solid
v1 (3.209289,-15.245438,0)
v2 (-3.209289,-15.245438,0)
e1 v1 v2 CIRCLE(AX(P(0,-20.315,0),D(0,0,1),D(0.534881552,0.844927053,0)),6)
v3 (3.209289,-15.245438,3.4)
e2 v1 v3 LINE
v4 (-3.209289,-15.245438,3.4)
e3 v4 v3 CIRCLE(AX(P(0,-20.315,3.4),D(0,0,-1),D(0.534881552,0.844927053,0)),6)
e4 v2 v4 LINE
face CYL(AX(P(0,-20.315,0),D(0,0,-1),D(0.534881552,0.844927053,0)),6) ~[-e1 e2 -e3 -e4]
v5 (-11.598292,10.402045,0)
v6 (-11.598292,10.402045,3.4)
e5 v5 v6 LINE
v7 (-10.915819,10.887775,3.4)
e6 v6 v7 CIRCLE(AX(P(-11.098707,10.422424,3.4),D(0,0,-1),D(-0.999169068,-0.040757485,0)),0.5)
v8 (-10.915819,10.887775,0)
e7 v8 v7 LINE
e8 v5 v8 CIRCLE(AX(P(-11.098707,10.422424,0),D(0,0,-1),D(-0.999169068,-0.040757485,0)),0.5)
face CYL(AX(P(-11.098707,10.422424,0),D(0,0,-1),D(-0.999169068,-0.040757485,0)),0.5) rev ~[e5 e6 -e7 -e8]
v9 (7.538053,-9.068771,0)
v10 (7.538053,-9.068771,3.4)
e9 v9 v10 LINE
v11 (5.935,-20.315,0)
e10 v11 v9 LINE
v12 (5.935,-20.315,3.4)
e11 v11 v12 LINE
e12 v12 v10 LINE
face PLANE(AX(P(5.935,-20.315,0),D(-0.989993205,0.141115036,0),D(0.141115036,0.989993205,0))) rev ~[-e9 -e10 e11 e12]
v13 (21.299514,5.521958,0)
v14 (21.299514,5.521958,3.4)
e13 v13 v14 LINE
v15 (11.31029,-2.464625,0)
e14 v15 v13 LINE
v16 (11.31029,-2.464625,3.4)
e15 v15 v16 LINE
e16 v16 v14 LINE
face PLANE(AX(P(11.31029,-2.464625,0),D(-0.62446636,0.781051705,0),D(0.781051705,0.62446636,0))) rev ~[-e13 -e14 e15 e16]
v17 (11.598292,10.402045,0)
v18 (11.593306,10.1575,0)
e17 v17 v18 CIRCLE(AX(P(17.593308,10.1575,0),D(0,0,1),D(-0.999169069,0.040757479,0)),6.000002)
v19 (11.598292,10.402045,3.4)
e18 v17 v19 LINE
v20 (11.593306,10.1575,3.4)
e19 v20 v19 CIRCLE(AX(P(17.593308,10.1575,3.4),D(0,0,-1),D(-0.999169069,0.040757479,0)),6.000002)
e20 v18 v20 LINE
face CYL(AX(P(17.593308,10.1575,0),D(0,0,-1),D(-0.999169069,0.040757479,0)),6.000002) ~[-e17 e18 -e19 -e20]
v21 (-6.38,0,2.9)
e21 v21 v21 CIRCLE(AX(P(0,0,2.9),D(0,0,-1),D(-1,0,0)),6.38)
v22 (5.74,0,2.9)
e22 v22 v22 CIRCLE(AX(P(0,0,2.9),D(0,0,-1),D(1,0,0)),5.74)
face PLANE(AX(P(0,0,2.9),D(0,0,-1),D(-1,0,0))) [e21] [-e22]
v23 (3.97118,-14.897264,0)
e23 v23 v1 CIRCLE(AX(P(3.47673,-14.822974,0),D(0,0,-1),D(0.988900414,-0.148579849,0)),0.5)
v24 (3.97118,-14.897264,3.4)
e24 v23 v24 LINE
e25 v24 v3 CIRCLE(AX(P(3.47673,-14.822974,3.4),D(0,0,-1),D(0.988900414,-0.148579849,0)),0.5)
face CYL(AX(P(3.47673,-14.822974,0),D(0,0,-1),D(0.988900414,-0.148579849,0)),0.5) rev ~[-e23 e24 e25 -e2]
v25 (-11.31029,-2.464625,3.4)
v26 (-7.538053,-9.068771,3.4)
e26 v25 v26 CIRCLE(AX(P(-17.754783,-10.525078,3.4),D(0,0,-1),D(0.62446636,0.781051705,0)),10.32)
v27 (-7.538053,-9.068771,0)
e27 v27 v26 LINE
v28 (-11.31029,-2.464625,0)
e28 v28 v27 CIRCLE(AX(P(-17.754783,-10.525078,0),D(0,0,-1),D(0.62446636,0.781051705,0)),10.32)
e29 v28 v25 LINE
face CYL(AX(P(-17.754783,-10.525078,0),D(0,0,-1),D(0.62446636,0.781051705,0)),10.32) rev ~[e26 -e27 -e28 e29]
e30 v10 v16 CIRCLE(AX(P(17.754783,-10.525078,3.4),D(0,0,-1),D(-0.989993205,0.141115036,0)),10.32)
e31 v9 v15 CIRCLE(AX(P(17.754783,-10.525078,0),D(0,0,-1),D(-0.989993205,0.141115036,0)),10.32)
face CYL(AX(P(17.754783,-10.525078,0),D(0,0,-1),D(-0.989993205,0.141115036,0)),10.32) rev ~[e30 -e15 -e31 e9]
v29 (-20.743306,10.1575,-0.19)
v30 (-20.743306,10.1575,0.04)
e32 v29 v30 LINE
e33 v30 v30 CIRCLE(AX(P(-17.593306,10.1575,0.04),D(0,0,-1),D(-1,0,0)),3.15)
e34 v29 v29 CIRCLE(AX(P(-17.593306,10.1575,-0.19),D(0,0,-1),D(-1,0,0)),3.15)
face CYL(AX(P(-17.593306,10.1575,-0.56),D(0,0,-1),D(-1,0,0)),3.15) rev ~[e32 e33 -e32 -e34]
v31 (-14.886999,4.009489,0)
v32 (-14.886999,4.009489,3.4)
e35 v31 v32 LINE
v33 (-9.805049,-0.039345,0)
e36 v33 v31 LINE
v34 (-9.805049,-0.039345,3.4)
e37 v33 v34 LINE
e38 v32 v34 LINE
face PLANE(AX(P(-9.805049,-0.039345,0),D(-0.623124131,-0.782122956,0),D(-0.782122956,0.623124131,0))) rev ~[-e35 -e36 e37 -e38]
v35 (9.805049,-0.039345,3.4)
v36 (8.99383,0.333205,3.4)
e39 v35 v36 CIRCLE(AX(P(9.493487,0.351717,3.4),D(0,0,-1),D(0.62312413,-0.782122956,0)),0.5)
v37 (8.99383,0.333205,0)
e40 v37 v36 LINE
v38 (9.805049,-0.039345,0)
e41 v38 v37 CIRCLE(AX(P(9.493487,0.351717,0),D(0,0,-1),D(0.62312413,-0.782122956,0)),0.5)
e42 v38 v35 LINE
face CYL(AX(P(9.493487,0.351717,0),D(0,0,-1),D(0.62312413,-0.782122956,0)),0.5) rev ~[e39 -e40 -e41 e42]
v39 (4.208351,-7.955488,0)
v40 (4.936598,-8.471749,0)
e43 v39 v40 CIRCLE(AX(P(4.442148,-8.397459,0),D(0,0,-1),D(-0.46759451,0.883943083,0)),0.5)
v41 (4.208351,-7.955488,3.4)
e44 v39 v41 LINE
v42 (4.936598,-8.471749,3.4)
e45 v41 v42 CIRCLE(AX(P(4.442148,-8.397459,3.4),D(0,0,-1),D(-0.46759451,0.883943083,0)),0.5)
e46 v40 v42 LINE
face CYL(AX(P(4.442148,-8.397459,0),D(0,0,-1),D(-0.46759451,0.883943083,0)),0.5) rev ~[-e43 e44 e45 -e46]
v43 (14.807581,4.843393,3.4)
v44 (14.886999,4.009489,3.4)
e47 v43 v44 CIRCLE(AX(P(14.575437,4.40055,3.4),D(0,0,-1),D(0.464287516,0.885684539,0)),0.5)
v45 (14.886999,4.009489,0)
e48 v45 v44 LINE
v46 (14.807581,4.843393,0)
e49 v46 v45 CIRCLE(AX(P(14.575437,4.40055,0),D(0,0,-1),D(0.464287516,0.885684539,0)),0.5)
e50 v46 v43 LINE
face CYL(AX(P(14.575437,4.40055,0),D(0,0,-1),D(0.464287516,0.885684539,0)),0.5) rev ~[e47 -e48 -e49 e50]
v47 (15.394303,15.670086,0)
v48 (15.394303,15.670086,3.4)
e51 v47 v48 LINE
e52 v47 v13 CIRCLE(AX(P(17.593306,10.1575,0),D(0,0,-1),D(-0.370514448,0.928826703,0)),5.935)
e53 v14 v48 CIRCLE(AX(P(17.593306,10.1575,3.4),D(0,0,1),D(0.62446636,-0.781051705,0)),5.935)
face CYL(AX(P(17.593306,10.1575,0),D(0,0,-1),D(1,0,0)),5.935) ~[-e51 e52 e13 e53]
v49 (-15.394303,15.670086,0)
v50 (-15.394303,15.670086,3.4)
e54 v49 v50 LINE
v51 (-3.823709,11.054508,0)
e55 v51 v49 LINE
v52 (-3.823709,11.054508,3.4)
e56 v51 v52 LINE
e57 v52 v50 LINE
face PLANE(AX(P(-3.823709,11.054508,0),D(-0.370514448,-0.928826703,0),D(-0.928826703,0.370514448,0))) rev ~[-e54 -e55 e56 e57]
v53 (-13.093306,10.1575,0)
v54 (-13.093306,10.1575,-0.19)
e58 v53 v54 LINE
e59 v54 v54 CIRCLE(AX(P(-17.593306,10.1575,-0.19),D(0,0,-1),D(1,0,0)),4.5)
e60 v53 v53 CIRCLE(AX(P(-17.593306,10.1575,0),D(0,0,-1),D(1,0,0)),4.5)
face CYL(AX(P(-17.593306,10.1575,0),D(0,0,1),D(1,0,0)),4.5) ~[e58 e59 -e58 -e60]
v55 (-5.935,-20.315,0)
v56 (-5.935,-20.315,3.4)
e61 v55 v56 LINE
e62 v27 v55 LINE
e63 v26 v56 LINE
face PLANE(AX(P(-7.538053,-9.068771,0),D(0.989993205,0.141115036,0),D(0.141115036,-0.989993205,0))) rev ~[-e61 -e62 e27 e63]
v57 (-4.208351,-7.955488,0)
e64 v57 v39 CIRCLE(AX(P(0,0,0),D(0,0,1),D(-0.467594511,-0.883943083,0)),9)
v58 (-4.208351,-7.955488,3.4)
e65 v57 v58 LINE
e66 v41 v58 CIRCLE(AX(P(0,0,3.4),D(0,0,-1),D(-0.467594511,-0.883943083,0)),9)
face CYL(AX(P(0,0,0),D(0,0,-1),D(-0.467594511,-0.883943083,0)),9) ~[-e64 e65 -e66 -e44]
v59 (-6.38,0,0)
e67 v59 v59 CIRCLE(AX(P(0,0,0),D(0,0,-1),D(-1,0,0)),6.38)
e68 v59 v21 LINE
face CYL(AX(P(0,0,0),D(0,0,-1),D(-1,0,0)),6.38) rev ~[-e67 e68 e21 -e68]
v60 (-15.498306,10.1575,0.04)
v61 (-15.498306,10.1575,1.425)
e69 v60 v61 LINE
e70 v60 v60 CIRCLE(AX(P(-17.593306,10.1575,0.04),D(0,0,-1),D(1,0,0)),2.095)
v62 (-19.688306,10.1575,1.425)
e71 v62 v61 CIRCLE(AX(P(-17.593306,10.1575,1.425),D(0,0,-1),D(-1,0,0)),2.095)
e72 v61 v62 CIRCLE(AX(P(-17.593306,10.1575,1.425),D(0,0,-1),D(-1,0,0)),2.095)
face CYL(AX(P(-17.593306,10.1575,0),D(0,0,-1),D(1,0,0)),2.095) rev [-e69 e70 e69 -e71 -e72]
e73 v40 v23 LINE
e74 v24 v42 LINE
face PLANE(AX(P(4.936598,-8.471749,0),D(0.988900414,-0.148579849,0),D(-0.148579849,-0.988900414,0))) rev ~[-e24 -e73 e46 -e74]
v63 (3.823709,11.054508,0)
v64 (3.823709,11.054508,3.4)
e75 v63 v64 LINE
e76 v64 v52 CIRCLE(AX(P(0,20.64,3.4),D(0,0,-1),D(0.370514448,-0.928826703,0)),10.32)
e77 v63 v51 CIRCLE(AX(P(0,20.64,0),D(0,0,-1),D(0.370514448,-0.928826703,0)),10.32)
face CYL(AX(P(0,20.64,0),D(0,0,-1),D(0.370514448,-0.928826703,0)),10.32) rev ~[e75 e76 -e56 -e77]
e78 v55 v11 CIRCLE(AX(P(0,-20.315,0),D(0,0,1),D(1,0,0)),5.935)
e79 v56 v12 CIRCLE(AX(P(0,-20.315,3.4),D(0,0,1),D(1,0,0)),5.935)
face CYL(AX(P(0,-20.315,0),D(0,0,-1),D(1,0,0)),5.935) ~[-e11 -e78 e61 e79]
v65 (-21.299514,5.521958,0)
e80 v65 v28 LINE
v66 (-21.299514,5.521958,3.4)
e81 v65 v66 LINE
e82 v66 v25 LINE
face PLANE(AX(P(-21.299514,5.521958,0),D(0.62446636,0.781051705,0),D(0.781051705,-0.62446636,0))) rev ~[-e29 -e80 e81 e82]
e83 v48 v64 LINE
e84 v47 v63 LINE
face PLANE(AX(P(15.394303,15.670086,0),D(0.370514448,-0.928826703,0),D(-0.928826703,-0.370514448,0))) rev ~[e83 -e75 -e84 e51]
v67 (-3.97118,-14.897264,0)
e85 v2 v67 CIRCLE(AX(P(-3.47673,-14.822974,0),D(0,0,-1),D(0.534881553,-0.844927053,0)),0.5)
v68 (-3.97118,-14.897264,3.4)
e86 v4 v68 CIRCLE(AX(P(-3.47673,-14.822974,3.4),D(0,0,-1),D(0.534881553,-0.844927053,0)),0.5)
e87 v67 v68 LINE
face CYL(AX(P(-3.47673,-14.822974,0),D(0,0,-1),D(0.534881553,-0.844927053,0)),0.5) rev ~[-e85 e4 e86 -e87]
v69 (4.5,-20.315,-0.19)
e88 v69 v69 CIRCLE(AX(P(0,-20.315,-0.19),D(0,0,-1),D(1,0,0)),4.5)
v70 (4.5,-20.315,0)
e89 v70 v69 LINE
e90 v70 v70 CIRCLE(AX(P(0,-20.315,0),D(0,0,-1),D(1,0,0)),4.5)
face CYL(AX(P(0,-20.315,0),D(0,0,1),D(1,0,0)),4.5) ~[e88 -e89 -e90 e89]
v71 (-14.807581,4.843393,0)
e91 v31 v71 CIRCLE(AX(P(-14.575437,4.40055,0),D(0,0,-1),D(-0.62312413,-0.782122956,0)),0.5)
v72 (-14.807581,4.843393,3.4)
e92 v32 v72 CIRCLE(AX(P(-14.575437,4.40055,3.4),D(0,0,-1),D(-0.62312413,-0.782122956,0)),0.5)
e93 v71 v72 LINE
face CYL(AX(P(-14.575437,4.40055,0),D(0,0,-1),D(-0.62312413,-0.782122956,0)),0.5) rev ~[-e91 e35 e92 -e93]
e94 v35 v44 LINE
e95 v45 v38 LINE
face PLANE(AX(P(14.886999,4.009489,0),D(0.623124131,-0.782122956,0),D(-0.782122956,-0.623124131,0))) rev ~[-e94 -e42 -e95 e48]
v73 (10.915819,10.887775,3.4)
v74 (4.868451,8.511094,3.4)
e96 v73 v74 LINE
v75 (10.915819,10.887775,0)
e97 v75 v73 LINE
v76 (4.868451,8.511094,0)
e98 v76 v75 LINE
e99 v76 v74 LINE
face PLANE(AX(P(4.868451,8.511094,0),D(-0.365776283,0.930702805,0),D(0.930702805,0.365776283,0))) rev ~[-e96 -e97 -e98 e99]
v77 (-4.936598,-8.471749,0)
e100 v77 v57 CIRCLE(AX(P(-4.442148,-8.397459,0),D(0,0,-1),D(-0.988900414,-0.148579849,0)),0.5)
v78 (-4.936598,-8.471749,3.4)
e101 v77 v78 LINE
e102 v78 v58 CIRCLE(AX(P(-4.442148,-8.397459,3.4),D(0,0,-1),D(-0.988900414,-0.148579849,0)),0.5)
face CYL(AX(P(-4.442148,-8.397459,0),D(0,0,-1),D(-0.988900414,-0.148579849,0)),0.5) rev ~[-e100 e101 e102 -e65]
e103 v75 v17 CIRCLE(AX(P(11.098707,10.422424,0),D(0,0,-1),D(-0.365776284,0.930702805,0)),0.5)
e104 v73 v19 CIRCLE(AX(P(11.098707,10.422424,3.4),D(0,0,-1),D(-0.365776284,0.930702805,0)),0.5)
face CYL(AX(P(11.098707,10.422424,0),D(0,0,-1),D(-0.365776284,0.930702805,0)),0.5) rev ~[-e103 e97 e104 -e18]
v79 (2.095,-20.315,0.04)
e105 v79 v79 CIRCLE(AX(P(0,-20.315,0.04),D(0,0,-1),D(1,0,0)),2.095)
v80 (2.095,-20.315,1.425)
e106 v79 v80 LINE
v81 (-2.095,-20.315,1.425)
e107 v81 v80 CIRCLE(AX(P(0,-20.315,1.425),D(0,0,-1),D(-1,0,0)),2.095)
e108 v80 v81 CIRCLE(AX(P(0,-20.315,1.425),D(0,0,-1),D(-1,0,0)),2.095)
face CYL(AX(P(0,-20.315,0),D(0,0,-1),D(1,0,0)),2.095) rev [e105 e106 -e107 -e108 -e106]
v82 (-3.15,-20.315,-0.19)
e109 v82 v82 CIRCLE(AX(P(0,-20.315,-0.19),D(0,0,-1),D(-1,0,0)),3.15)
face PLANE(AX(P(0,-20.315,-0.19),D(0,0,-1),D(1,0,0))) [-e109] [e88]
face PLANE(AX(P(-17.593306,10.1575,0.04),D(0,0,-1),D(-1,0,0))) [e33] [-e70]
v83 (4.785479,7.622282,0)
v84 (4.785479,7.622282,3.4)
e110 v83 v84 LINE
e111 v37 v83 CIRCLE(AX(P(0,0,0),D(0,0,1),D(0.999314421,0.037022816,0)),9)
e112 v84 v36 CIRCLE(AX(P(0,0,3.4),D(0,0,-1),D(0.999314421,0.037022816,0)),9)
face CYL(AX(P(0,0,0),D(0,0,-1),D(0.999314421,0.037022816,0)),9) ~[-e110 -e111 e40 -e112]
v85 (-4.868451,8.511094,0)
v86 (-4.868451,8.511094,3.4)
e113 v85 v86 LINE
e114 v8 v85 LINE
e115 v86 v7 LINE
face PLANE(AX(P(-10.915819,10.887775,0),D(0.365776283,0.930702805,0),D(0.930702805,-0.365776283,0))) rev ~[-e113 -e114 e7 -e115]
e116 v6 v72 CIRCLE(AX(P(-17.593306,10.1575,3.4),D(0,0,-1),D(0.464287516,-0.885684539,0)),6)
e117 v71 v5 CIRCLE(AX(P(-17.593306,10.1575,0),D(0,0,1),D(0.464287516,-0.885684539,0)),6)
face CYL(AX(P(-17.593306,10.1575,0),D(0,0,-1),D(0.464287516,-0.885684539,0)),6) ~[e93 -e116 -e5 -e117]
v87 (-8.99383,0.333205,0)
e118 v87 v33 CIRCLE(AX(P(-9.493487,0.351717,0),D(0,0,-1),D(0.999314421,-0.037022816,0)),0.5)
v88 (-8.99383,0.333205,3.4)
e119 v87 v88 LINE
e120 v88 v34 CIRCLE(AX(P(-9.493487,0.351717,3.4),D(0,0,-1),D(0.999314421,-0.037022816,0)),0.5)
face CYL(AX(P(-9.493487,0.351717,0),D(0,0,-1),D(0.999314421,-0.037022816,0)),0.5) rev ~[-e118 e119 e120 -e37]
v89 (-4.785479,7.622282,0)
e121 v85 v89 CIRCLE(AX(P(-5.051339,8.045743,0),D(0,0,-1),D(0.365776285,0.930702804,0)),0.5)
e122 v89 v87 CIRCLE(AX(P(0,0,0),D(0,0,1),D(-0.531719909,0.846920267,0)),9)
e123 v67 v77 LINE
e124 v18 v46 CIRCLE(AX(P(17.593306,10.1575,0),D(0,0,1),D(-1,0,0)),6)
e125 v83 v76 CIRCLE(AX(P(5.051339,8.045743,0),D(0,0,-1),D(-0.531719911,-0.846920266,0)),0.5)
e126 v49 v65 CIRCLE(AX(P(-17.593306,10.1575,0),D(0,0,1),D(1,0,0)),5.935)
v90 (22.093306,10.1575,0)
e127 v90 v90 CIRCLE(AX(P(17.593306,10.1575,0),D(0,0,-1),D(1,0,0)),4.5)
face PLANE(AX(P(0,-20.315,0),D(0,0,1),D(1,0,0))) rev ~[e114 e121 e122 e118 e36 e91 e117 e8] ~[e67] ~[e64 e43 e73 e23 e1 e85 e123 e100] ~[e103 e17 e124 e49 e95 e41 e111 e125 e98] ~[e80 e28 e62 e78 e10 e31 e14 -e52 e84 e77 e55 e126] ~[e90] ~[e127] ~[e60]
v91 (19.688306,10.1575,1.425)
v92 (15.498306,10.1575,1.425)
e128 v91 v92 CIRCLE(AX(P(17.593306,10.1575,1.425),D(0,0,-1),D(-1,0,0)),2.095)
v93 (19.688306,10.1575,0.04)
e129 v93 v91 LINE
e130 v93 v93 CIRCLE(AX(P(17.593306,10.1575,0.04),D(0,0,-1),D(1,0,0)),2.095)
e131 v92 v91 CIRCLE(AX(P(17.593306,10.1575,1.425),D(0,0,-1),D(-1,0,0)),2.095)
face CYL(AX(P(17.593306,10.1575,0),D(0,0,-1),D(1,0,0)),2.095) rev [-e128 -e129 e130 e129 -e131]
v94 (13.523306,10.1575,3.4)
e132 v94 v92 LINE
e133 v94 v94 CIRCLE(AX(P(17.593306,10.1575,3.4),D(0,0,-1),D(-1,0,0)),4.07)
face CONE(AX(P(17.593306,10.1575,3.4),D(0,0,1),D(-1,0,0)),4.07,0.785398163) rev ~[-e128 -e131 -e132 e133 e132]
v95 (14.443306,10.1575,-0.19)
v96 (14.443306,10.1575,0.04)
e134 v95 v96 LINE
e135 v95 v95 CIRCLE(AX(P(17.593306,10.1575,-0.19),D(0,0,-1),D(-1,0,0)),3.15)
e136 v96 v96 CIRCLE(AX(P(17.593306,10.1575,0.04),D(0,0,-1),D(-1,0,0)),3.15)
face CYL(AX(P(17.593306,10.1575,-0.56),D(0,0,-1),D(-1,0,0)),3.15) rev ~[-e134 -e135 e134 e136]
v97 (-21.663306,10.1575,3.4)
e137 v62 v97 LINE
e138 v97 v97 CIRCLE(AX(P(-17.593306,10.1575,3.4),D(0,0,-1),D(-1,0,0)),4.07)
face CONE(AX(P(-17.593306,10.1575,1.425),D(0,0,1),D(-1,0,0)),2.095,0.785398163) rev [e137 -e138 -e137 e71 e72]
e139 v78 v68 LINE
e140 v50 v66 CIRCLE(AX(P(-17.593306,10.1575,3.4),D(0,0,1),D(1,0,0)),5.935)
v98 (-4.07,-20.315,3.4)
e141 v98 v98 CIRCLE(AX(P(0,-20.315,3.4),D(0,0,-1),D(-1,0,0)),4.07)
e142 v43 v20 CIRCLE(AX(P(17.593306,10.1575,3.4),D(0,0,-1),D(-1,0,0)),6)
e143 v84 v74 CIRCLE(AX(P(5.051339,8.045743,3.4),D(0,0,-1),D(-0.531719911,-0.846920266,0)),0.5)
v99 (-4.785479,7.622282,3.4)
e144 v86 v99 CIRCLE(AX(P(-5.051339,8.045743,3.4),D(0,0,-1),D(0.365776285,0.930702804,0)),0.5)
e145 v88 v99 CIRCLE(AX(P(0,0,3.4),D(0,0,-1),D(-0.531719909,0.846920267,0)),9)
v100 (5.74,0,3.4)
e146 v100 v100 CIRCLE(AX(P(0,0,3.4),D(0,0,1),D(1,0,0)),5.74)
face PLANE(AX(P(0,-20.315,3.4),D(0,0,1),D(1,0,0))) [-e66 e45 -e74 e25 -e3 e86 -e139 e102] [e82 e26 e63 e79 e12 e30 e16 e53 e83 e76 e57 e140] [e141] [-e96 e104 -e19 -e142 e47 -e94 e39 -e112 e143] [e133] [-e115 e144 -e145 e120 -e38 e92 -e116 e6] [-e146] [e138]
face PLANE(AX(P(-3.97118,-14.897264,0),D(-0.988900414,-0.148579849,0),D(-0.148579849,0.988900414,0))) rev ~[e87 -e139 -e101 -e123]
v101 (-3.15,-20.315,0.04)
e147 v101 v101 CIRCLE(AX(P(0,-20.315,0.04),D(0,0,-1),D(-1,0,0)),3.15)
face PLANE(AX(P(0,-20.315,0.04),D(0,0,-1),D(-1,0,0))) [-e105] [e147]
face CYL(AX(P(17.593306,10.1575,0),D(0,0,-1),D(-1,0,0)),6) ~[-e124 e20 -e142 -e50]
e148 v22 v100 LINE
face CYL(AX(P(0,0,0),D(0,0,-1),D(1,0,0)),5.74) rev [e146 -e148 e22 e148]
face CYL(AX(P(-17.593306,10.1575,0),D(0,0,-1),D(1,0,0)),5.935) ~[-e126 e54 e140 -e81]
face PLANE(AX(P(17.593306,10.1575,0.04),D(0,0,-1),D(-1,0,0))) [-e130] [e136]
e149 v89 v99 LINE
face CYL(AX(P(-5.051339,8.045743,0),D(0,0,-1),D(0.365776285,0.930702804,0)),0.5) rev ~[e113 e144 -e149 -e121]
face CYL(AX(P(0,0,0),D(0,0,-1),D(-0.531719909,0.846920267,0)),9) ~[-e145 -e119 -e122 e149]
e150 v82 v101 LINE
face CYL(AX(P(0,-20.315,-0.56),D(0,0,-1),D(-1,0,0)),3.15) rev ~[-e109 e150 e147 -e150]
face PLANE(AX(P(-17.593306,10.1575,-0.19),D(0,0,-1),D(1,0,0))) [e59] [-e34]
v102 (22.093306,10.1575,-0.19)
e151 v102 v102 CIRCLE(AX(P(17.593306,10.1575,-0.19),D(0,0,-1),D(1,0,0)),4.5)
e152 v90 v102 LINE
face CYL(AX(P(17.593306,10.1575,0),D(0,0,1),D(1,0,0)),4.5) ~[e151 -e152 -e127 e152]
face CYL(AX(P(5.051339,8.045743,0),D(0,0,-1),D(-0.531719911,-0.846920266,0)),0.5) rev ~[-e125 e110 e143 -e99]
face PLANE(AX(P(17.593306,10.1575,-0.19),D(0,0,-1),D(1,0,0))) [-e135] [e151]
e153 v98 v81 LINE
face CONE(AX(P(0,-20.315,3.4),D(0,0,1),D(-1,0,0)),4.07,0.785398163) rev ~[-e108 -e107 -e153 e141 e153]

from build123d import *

# Parameters (mm, degrees)
SKETCH_1_R          = 5.935
SKETCH_1_R_2        = 2.095
SKETCH_1_R_3        = 5.74
EXTRUDE_1_DEPTH     = 3.4
SKETCH_3_R          = 6.38
CUT_EXTRUDE_1_DEPTH = 2.9
SKETCH_4_R          = 4.5
EXTRUDE_3_DEPTH     = 0.56
SKETCH_6_R          = 3.15
CUT_EXTRUDE_2_DEPTH = 0.6
SKETCH_7_R          = 3.15
CUT_EXTRUDE_3_DEPTH = 0.6
SKETCH_8_R          = 3.15
CUT_EXTRUDE_4_DEPTH = 0.6
CUT_EXTRUDE_5_DEPTH = 10
SKETCH_13_R         = 4.5
SKETCH_13_R_2       = 3.15
CUT_EXTRUDE_6_DEPTH = 0.37
SKETCH_14_R         = 4.5
SKETCH_14_R_2       = 3.15
CUT_EXTRUDE_7_DEPTH = 0.37
SKETCH_15_R         = 4.5
SKETCH_15_R_2       = 3.15
CUT_EXTRUDE_8_DEPTH = 0.37


with BuildPart() as part:
    # 草图1 → 凸台-拉伸1 (new body)
    # profile 1 of 4: a face of its own
    with BuildSketch(Plane.XY):
        with Locations((-17.593306078, 10.1575)):
            Circle(SKETCH_1_R)
        with Locations((-17.593306078, 10.1575)):
            Circle(SKETCH_1_R_2, mode=Mode.SUBTRACT)
    # profile 2 of 4: a face of its own
    with BuildSketch(Plane.XY):
        with Locations((17.593306078, 10.1575)):
            Circle(SKETCH_1_R)
        with Locations((17.593306078, 10.1575)):
            Circle(SKETCH_1_R_2, mode=Mode.SUBTRACT)
    # profile 3 of 4: a face of its own
    with BuildSketch(Plane.XY):
        with BuildLine():
            Line((-3.823709102, 11.054508427), (-15.39430283, 15.670086481))
            ThreePointArc((-15.39430283, 15.670086481), (-12.680297362, 13.487150186), (-11.658306078, 10.1575))
            ThreePointArc((-11.658306078, 10.1575), (-15.021547784, 4.808641778), (-21.299513922, 5.521958132))
            Line((-21.299513922, 5.521958132), (-11.31029049, -2.464624515))
            ThreePointArc((-11.31029049, -2.464624515), (-8.793601867, -5.406520994), (-7.538053442, -9.068770941))
            Line((-7.538053442, -9.068770941), (-5.935, -20.315))
            ThreePointArc((-5.935, -20.315), (0, -14.38), (5.935, -20.315))
            Line((5.935, -20.315), (7.538053442, -9.068770941))
            ThreePointArc((7.538053442, -9.068770941), (8.793601867, -5.406520994), (11.31029049, -2.464624515))
            Line((11.31029049, -2.464624515), (21.299513922, 5.521958132))
            ThreePointArc((21.299513922, 5.521958132), (12.46358448, 7.172507316), (15.39430283, 15.670086481))
            Line((15.39430283, 15.670086481), (3.823709102, 11.054508427))
            ThreePointArc((3.823709102, 11.054508427), (0, 10.32), (-3.823709102, 11.054508427))
        make_face()
        Circle(SKETCH_1_R_3, mode=Mode.SUBTRACT)
    # profile 4 of 4: a face of its own
    with BuildSketch(Plane.XY):
        with Locations((0, -20.315)):
            Circle(SKETCH_1_R)
        with Locations((0, -20.315)):
            Circle(SKETCH_1_R_2, mode=Mode.SUBTRACT)
    extrude(amount=EXTRUDE_1_DEPTH)

    # 草图3 → 切除-拉伸1 (cut)
    with BuildSketch(Plane(origin=(0, 0, 0), x_dir=(-1, 0, 0), z_dir=(0, 0, -1))):
        Circle(SKETCH_3_R)
    extrude(amount=-CUT_EXTRUDE_1_DEPTH, mode=Mode.SUBTRACT)

    # 草图4 → 凸台-拉伸3 (add)
    with BuildSketch(Plane(origin=(0, 0, 0), x_dir=(-1, 0, 0), z_dir=(0, 0, -1))):
        with Locations(Location((0, -20.315, 0), (0, 0, 180))):
            Circle(SKETCH_4_R)
        with Locations(Location((17.593306078, 10.1575, 0), (0, 0, 180))):
            Circle(SKETCH_4_R)
        with Locations(Location((-17.593306078, 10.1575, 0), (0, 0, 180))):
            Circle(SKETCH_4_R)
    extrude(amount=EXTRUDE_3_DEPTH)

    # 草图6 → 切除-拉伸2 (cut)
    with BuildSketch(Plane(origin=(0, 0, -0.56), x_dir=(-1, 0, 0), z_dir=(0, 0, -1))):
        with Locations((0, -20.315)):
            Circle(SKETCH_6_R)
    extrude(amount=-CUT_EXTRUDE_2_DEPTH, mode=Mode.SUBTRACT)

    # 草图7 → 切除-拉伸3 (cut)
    with BuildSketch(Plane(origin=(0, 0, -0.56), x_dir=(-1, 0, 0), z_dir=(0, 0, -1))):
        with Locations((-17.593306078, 10.1575)):
            Circle(SKETCH_7_R)
    extrude(amount=-CUT_EXTRUDE_3_DEPTH, mode=Mode.SUBTRACT)

    # 草图8 → 切除-拉伸4 (cut)
    with BuildSketch(Plane(origin=(0, 0, -0.56), x_dir=(-1, 0, 0), z_dir=(0, 0, -1))):
        with Locations((17.593306078, 10.1575)):
            Circle(SKETCH_8_R)
    extrude(amount=-CUT_EXTRUDE_4_DEPTH, mode=Mode.SUBTRACT)

    # 草图9 → 切除-旋转1 (revolve, cut)
    with BuildSketch(Plane(origin=(0, 10.1575, 0), x_dir=(-1, 0, 0), z_dir=(0, -1, 0))):
        Polygon((19.688306078, -3.4), (19.688306078, -1.425), (21.663306078, -3.4), align=None)
    revolve(axis=Axis((-17.593306078, 10.1575, 3.4), (0, 0, -1)), mode=Mode.SUBTRACT)

    # 草图10 → 切除-旋转2 (revolve, cut)
    with BuildSketch(Plane(origin=(8.796653039, -5.07875, 0), x_dir=(0, 0, 1), z_dir=(-0.8660254037844397, 0.49999999999999806, 0)), mode=Mode.PRIVATE) as cut_revolve_2_sk:
        Polygon((3.4, 19.688306078), (3.4, 21.663306078), (1.425, 19.688306078), align=None)
    revolve(cut_revolve_2_sk.sketch.rotate(Axis((17.593306078, 10.1575, 3.4), (0, 0, -1)), 240), axis=Axis((17.593306078, 10.1575, 3.4), (0, 0, -1)), mode=Mode.SUBTRACT)

    # 草图11 → 切除-旋转3 (revolve, cut)
    with BuildSketch(Plane(origin=(8.796653039, -5.07875, 0), x_dir=(0, 0, 1), z_dir=(-0.8660254037844397, 0.49999999999999806, 0)), mode=Mode.PRIVATE) as cut_revolve_3_sk:
        Polygon((3.4, -15.498306078), (3.4, -13.523306078), (1.425, -15.498306078), align=None)
    revolve(cut_revolve_3_sk.sketch.rotate(Axis((0, -20.315, 3.4), (0, 0, -1)), 240), axis=Axis((0, -20.315, 3.4), (0, 0, -1)), mode=Mode.SUBTRACT)

    # 草图12 → 切除-拉伸5 (cut)
    with BuildSketch(Plane(origin=(0, 0, 0), x_dir=(-1, 0, 0), z_dir=(0, 0, -1))):
        with BuildLine():
            Line((9.80504906, -0.039344726), (14.886999287, 4.00948902))
            ThreePointArc((14.886999287, 4.00948902), (15.07318502, 4.447954395), (14.80758098, 4.843392767))
            ThreePointArc((14.80758098, 4.843392767), (12.397153655, 7.1575), (11.598291667, 10.402044914))
            ThreePointArc((11.598291667, 10.402044914), (11.388634011, 10.829783946), (10.915818991, 10.887775059))
            Line((10.915818991, 10.887775059), (4.868450998, 8.511093935))
            ThreePointArc((4.868450998, 8.511093935), (4.553503625, 8.092216181), (4.785479185, 7.622282399))
            ThreePointArc((4.785479185, 7.622282399), (7.794228634, 4.5), (8.993829785, 0.333205344))
            ThreePointArc((8.993829785, 0.333205344), (9.284816598, -0.102658275), (9.80504906, -0.039344726))
        make_face()
        with BuildLine():
            Line((3.971180296, -14.897264079), (4.936598062, -8.471749209))
            ThreePointArc((4.936598062, -8.471749209), (4.731312973, -7.989557906), (4.2083506, -7.955487743))
            ThreePointArc((4.2083506, -7.955487743), (0, -9), (-4.2083506, -7.955487743))
            ThreePointArc((-4.2083506, -7.955487743), (-4.731312973, -7.989557906), (-4.936598062, -8.471749209))
            Line((-4.936598062, -8.471749209), (-3.971180296, -14.897264079))
            ThreePointArc((-3.971180296, -14.897264079), (-3.684551009, -15.277738341), (-3.209289313, -15.245437681))
            ThreePointArc((-3.209289313, -15.245437681), (0, -14.315), (3.209289313, -15.245437681))
            ThreePointArc((3.209289313, -15.245437681), (3.684551009, -15.277738341), (3.971180296, -14.897264079))
        make_face()
        with BuildLine():
            Line((-4.868450998, 8.511093935), (-10.915818991, 10.887775059))
            ThreePointArc((-10.915818991, 10.887775059), (-11.388634011, 10.829783946), (-11.598291667, 10.402044914))
            ThreePointArc((-11.598291667, 10.402044914), (-11.594552605, 10.279797865), (-11.593306078, 10.1575))
            ThreePointArc((-11.593306078, 10.1575), (-12.459382111, 7.052210206), (-14.80758098, 4.843392767))
            ThreePointArc((-14.80758098, 4.843392767), (-15.07318502, 4.447954395), (-14.886999287, 4.00948902))
            Line((-14.886999287, 4.00948902), (-9.80504906, -0.039344726))
            ThreePointArc((-9.80504906, -0.039344726), (-9.284816598, -0.102658275), (-8.993829785, 0.333205344))
            ThreePointArc((-8.993829785, 0.333205344), (-7.794228634, 4.5), (-4.785479185, 7.622282399))
            ThreePointArc((-4.785479185, 7.622282399), (-4.553503625, 8.092216181), (-4.868450998, 8.511093935))
        make_face()
    extrude(amount=-CUT_EXTRUDE_5_DEPTH, mode=Mode.SUBTRACT)

    # 草图13 → 切除-拉伸6 (cut)
    with BuildSketch(Plane(origin=(0, 0, -0.56), x_dir=(-1, 0, 0), z_dir=(0, 0, -1))):
        with Locations(Location((0, -20.315, 0), (0, 0, 180))):
            Circle(SKETCH_13_R)
        with Locations((0, -20.315)):
            Circle(SKETCH_13_R_2, mode=Mode.SUBTRACT)
    extrude(amount=-CUT_EXTRUDE_6_DEPTH, mode=Mode.SUBTRACT)

    # 草图14 → 切除-拉伸7 (cut)
    with BuildSketch(Plane(origin=(0, 0, -0.56), x_dir=(-1, 0, 0), z_dir=(0, 0, -1))):
        with Locations(Location((-17.593306078, 10.1575, 0), (0, 0, 180))):
            Circle(SKETCH_14_R)
        with Locations((-17.593306078, 10.1575)):
            Circle(SKETCH_14_R_2, mode=Mode.SUBTRACT)
    extrude(amount=-CUT_EXTRUDE_7_DEPTH, mode=Mode.SUBTRACT)

    # 草图15 → 切除-拉伸8 (cut)
    with BuildSketch(Plane(origin=(0, 0, -0.56), x_dir=(-1, 0, 0), z_dir=(0, 0, -1))):
        with Locations(Location((17.593306078, 10.1575, 0), (0, 0, 180))):
            Circle(SKETCH_15_R)
        with Locations((17.593306078, 10.1575)):
            Circle(SKETCH_15_R_2, mode=Mode.SUBTRACT)
    extrude(amount=-CUT_EXTRUDE_8_DEPTH, mode=Mode.SUBTRACT)


solid = part.part
